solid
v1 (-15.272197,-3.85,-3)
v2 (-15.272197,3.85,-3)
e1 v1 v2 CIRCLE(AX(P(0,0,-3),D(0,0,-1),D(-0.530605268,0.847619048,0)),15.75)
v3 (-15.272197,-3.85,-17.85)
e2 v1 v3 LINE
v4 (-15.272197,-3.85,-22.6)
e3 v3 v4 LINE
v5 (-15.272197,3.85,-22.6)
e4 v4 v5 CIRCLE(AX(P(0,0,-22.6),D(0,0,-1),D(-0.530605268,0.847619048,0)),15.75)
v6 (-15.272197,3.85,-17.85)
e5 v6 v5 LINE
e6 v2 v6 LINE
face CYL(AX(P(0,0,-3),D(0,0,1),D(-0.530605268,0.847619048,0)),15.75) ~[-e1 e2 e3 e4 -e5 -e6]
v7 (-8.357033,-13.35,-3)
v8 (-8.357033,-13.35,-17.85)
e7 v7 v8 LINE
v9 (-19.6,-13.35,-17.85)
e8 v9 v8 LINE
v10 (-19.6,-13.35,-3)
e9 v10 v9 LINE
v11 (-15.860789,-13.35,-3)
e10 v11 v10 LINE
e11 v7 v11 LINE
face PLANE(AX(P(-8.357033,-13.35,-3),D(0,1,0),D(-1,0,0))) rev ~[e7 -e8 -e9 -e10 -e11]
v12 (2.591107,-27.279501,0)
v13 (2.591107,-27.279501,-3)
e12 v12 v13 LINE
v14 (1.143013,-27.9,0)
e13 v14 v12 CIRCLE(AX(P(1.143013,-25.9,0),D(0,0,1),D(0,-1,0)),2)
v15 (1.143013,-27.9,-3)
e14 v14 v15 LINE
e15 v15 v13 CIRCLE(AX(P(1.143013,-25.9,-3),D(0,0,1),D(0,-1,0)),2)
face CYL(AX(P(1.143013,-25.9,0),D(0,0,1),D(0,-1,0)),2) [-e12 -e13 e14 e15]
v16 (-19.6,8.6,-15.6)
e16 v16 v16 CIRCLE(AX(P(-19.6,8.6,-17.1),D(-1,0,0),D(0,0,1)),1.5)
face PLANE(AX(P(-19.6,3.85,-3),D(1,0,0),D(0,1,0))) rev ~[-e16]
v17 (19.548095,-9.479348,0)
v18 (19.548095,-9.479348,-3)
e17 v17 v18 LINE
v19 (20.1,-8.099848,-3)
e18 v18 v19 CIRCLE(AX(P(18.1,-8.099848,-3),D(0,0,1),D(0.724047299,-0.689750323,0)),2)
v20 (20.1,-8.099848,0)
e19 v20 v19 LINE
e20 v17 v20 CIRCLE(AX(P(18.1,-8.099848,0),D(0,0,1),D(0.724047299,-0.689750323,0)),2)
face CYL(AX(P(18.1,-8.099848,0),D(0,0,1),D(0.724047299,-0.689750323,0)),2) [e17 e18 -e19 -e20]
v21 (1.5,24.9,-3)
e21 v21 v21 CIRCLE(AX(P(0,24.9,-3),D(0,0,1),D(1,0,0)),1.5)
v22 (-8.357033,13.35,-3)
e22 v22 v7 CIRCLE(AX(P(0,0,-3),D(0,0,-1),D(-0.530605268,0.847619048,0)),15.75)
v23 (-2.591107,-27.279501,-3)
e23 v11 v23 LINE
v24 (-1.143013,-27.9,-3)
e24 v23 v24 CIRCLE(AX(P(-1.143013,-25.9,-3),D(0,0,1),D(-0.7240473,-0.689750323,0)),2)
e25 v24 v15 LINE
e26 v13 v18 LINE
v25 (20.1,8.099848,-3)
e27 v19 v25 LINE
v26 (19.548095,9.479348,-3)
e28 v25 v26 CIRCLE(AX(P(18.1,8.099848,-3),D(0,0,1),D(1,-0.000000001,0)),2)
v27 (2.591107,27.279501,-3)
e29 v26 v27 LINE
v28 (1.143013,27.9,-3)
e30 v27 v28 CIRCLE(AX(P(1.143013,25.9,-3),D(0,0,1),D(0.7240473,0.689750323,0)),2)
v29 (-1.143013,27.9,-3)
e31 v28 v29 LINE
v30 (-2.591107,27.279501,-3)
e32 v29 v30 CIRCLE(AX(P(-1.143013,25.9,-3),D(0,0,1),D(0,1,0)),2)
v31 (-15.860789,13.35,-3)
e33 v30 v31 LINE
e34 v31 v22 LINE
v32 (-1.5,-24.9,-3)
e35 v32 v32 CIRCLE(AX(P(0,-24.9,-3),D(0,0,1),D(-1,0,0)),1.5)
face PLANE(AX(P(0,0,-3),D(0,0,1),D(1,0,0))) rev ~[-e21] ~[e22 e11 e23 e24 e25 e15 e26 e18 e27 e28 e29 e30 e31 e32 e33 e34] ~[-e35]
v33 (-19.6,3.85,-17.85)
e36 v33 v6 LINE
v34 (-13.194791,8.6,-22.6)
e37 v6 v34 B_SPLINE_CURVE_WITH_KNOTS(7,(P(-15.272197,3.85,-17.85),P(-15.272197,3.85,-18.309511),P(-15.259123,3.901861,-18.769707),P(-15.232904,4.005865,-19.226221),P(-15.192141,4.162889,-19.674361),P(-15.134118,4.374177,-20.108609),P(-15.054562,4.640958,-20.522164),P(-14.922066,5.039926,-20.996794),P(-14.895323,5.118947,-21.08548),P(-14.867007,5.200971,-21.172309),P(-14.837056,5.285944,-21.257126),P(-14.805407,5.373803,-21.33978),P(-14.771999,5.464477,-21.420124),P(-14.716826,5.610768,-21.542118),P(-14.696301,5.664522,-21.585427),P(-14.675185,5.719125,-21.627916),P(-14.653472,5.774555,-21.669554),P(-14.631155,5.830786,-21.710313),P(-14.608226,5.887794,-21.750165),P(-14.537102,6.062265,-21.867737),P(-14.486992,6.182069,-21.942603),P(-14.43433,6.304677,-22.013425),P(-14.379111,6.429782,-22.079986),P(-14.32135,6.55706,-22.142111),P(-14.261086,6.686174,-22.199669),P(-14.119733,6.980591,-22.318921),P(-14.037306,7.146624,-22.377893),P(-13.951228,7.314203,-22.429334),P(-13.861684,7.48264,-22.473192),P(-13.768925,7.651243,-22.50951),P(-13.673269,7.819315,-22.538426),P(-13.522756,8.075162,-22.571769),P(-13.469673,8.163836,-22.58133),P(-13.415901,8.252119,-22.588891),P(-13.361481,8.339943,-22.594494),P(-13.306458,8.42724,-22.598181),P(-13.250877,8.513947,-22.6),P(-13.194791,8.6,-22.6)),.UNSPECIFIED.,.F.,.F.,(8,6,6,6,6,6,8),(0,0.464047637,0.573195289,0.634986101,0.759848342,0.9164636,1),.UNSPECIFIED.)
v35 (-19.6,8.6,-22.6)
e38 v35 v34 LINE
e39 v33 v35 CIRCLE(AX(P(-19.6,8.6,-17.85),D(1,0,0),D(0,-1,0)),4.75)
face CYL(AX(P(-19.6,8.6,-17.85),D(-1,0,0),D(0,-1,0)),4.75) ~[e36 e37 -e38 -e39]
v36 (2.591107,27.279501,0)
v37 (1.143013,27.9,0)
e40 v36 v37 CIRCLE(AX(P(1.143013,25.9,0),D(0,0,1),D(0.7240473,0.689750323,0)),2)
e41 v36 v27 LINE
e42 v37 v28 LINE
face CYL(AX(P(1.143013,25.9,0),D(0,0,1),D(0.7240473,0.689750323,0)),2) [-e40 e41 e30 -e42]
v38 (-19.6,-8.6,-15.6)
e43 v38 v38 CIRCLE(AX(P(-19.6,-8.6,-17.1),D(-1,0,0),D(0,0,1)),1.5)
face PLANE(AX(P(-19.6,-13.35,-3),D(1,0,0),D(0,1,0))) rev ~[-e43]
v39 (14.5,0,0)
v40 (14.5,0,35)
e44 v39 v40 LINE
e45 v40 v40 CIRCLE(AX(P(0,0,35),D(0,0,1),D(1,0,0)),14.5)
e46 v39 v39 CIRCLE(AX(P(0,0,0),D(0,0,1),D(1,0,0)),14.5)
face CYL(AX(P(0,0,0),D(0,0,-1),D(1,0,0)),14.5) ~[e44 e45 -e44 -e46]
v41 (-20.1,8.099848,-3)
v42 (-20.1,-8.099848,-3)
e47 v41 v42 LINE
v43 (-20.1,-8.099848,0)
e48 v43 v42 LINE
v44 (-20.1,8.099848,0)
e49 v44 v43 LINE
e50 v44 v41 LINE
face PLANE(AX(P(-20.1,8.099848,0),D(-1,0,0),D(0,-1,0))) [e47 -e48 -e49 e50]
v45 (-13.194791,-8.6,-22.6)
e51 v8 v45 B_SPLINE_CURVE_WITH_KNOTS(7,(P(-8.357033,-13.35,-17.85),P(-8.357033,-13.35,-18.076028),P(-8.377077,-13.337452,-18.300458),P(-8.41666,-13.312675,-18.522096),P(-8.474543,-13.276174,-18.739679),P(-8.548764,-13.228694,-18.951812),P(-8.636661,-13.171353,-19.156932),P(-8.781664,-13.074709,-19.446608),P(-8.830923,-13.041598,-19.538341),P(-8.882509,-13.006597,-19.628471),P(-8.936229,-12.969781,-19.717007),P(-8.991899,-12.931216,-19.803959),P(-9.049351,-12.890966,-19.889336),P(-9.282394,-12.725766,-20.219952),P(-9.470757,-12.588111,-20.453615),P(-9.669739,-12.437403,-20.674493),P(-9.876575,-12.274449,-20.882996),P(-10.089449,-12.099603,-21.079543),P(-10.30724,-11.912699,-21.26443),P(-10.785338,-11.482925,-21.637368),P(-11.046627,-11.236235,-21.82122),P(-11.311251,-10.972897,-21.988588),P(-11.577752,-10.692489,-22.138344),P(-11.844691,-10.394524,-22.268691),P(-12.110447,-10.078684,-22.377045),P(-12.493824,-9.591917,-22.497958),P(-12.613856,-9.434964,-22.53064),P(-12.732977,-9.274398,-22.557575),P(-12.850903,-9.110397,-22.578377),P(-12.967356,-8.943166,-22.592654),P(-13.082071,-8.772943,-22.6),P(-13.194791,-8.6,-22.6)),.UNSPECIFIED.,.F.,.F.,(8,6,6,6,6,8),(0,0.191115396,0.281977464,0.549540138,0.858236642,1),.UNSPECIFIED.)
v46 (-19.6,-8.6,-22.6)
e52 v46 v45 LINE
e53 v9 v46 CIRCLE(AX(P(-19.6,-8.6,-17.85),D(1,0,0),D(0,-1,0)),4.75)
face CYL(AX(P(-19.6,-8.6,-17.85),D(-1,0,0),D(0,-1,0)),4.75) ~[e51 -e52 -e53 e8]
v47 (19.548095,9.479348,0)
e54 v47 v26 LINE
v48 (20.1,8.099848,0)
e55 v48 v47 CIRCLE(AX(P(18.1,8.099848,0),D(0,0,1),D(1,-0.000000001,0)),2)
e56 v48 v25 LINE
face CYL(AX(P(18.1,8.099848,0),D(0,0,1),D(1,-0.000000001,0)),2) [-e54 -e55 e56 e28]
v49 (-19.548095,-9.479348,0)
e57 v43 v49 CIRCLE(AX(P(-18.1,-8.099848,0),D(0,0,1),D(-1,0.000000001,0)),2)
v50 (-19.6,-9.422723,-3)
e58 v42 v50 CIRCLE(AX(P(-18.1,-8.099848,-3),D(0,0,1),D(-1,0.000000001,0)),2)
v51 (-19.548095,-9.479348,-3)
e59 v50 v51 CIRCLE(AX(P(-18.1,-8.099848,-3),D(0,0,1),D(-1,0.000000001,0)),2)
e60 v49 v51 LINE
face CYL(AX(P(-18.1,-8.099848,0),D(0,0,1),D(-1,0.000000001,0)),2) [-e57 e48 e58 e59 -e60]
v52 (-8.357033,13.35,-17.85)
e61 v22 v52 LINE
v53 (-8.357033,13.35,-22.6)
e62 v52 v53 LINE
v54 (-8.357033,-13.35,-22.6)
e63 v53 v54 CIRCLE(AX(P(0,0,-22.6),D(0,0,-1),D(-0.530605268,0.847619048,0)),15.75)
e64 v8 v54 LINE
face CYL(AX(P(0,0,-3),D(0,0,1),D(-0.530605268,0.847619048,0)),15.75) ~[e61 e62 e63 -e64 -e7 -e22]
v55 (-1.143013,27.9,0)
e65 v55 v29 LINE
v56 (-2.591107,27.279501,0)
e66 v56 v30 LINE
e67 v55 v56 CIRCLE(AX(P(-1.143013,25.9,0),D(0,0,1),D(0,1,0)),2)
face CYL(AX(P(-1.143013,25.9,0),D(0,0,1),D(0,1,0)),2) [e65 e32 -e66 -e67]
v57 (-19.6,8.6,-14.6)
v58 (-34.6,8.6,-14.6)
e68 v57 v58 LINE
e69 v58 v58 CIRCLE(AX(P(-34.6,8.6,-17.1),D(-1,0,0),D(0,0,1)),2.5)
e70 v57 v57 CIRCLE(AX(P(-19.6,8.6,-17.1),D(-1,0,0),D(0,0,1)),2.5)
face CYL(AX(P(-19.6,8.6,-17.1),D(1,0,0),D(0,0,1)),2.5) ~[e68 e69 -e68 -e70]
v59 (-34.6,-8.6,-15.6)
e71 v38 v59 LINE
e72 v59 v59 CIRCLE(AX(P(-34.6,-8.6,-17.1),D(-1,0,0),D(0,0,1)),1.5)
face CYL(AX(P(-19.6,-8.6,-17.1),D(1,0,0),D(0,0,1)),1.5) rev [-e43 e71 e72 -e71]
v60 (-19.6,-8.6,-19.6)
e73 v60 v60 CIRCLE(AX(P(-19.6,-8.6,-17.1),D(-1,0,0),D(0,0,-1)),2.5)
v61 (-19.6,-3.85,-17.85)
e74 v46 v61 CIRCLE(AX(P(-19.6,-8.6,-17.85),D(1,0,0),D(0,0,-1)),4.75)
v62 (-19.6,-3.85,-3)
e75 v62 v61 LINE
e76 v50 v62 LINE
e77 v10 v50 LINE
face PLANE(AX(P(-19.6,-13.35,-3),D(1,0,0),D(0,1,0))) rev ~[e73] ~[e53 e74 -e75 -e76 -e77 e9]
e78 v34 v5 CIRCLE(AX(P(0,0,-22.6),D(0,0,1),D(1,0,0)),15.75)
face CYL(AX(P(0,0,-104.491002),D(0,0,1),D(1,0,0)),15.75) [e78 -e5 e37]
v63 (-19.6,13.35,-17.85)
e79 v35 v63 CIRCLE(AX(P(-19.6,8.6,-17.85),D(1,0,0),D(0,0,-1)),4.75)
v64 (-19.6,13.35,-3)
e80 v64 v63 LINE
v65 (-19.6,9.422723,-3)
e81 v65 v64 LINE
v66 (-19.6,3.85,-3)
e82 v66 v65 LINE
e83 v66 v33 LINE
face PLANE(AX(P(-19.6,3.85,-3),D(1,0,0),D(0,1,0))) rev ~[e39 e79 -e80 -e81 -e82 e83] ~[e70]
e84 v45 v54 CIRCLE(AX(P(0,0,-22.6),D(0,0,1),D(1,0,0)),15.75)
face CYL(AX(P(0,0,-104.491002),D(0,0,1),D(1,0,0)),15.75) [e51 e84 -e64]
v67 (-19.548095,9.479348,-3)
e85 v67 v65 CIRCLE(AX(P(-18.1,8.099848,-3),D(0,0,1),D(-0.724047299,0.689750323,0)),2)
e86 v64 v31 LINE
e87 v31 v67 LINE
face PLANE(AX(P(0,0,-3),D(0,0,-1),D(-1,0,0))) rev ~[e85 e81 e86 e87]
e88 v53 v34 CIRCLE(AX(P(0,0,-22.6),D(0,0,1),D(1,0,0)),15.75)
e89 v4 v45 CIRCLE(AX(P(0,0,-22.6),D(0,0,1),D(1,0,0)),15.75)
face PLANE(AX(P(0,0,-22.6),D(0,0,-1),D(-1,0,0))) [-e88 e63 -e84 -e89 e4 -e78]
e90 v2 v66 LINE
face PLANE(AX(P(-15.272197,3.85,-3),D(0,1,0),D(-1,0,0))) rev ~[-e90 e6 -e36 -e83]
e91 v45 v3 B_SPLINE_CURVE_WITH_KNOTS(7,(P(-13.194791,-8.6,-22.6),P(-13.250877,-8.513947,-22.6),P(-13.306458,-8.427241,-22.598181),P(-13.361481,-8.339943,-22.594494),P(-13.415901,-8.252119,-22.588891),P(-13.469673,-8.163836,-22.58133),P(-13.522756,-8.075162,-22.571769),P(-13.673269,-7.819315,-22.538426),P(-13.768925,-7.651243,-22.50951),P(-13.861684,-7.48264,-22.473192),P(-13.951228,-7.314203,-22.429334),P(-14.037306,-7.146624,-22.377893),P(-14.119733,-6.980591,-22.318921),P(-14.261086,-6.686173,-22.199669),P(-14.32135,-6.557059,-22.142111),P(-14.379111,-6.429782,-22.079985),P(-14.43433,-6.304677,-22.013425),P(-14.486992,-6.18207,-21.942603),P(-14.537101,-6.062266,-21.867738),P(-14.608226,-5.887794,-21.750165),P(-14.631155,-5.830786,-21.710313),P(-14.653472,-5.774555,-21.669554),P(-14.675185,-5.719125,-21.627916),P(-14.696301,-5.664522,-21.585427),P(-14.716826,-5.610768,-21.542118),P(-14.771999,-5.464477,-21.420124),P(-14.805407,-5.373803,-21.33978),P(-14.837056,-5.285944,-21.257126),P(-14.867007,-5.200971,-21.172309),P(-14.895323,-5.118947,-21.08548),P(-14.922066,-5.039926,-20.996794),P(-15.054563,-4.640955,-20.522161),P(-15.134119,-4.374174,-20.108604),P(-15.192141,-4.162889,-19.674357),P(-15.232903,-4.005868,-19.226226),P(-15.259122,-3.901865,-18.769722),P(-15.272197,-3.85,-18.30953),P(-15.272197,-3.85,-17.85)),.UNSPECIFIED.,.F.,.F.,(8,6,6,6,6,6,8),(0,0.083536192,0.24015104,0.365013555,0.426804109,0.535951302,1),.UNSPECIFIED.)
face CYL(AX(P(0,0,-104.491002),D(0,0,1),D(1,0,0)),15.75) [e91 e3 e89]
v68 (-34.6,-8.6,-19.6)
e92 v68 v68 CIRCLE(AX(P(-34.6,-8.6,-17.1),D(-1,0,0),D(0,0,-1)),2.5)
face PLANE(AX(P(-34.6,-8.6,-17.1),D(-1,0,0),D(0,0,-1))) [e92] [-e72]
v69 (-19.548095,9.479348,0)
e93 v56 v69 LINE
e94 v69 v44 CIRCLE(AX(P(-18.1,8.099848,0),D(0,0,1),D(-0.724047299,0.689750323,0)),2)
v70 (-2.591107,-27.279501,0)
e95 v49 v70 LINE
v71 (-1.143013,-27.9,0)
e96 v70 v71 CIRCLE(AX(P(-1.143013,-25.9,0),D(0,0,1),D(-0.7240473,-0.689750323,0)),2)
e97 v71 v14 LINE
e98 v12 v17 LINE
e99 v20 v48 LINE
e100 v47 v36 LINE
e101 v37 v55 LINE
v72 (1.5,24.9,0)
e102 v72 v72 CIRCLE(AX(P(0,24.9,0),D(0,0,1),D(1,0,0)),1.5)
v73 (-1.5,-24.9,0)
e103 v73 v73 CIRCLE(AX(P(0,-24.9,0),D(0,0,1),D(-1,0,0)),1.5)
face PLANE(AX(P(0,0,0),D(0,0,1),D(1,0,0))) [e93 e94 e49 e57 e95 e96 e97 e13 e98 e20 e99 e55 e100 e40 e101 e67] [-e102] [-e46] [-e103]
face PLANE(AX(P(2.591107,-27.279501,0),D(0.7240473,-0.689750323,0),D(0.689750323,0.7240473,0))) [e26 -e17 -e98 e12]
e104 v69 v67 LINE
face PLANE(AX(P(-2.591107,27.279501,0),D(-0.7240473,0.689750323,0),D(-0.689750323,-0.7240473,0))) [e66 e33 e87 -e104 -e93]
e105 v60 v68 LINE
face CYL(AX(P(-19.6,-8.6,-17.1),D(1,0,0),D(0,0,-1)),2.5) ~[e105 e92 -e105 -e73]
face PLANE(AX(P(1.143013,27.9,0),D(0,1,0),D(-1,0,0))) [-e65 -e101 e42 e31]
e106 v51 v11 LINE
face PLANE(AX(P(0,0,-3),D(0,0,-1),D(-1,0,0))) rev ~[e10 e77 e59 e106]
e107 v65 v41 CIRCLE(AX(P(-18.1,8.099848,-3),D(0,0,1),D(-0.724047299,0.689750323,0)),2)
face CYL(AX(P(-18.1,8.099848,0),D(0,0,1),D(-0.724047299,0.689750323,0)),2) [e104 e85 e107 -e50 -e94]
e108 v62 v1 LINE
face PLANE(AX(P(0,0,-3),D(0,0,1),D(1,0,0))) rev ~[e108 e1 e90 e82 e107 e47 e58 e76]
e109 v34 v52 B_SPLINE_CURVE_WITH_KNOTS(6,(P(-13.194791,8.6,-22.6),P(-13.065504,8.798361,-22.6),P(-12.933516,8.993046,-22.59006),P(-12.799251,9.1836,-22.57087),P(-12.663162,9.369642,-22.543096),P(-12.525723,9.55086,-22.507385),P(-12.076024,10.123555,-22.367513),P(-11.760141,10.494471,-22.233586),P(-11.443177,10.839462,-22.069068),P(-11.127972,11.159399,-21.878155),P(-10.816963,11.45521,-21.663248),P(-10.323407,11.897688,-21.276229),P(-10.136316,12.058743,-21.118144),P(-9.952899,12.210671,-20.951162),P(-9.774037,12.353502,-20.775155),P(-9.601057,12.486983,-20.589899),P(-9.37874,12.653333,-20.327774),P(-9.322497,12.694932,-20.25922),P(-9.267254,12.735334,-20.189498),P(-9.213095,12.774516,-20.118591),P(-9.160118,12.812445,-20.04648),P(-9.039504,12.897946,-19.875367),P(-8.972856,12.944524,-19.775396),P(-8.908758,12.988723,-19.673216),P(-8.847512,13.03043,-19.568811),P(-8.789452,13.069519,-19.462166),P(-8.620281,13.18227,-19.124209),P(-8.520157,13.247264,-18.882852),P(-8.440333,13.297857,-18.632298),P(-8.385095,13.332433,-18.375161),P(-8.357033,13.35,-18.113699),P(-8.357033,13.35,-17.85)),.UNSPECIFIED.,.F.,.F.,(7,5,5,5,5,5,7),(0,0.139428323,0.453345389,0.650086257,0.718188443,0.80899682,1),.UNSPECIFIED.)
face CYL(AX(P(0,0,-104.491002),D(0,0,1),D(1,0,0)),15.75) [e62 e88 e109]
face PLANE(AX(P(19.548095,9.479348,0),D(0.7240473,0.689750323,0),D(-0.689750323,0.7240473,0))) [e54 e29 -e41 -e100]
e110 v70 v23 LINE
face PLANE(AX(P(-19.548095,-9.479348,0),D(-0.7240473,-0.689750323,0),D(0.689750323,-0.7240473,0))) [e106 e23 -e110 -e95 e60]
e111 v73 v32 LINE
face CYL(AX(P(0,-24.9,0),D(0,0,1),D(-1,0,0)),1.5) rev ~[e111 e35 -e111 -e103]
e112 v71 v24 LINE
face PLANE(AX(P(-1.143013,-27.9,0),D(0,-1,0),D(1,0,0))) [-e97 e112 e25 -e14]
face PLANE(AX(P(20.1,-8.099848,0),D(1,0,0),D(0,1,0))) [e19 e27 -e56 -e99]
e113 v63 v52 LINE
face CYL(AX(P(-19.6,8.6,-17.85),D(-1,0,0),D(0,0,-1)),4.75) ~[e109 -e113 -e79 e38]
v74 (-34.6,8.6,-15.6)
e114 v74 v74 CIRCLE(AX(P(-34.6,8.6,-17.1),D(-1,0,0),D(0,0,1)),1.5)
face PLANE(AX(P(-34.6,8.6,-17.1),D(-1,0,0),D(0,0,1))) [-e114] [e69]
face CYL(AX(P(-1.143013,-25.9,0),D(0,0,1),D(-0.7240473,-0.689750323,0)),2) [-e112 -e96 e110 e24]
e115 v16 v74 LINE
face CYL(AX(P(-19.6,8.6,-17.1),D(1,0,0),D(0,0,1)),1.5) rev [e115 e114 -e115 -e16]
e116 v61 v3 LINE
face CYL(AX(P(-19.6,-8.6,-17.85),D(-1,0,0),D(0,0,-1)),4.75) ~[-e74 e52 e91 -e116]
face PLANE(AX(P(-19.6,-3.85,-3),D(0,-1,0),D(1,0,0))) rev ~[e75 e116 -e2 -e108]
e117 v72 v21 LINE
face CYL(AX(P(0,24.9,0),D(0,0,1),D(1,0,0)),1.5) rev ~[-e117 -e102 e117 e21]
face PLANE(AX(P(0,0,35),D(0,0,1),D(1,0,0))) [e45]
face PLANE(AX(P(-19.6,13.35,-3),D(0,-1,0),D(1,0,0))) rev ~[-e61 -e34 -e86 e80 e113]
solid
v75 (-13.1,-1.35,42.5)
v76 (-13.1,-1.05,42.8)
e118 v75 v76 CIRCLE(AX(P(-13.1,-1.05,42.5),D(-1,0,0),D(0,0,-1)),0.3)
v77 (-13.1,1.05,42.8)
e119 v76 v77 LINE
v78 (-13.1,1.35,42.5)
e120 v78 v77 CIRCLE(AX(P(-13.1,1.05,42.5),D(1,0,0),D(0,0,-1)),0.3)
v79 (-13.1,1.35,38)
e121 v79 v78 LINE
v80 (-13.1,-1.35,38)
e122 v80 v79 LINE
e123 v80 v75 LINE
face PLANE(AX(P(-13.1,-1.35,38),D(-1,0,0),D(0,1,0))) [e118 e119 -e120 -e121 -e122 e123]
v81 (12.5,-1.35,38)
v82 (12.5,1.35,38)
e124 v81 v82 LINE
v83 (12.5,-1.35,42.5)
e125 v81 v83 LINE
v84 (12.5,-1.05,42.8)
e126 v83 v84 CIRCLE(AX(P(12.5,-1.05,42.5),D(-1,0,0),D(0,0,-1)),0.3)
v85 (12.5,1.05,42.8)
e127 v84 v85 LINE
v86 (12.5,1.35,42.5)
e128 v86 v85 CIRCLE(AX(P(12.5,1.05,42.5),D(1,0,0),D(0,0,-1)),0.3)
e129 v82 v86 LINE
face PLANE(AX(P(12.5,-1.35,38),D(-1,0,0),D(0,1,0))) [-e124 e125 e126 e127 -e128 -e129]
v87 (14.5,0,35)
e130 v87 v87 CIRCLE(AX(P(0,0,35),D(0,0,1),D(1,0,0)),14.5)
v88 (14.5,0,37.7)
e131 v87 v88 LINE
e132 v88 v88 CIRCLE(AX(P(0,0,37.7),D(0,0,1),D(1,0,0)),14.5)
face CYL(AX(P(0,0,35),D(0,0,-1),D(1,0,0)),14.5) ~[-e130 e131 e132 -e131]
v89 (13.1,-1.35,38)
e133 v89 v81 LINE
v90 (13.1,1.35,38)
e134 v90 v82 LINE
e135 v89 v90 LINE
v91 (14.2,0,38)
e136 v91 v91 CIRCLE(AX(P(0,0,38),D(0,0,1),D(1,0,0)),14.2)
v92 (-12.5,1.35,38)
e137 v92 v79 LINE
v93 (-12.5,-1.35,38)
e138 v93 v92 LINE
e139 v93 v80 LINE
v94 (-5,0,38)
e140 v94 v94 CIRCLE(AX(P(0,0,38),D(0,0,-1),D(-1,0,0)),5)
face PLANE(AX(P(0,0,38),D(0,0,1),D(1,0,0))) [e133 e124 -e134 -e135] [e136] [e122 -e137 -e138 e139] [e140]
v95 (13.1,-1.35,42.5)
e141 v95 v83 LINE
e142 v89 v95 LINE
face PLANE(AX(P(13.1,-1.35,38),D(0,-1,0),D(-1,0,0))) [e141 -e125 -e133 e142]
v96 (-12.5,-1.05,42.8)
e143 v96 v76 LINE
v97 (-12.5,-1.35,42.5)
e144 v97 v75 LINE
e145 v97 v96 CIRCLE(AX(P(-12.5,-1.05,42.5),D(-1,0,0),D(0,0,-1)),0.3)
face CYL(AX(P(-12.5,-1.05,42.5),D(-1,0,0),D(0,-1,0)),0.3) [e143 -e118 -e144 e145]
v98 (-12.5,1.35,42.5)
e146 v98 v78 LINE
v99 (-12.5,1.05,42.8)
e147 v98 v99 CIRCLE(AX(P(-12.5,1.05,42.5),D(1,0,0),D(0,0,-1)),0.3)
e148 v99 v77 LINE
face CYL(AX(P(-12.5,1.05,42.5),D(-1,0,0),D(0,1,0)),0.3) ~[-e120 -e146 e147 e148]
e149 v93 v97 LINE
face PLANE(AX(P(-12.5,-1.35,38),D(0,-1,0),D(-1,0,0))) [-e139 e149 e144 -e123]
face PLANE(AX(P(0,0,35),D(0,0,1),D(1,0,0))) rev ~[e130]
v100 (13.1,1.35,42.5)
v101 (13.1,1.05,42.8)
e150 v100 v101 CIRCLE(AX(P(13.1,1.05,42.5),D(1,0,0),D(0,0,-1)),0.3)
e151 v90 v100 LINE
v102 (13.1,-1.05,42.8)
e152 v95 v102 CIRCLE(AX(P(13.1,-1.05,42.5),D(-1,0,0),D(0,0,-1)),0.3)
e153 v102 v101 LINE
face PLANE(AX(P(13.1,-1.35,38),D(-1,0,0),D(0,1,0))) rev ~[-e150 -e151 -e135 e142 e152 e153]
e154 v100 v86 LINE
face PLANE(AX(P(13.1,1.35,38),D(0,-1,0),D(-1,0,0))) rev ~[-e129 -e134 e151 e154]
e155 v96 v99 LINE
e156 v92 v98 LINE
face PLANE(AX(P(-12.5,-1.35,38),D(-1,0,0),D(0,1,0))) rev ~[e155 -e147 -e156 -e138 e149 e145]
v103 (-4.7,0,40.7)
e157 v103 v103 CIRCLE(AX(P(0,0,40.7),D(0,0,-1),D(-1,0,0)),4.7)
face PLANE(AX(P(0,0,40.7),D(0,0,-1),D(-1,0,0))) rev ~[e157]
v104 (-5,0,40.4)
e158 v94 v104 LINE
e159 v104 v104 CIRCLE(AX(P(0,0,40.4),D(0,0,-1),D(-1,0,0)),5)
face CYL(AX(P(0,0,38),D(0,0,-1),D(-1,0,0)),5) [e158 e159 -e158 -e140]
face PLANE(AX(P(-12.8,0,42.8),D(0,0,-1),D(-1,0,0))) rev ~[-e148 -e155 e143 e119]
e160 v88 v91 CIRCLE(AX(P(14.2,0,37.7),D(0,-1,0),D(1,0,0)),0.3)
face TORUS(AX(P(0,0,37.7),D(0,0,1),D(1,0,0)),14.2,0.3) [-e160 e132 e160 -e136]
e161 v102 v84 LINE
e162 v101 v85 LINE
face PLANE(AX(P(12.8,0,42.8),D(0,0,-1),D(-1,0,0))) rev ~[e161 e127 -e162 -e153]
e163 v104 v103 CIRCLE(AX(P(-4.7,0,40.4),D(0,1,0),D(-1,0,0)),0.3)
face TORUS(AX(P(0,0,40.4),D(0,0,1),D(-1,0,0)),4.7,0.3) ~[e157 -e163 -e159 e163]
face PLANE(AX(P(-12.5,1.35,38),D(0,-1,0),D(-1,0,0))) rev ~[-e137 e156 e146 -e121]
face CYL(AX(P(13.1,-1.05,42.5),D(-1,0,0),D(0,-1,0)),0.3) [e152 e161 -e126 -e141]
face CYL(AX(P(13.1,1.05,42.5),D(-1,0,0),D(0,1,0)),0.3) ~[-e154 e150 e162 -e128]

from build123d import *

# Parameters (mm, degrees)
SKETCH1_R               = 14.5
BOSS_EXTRUDE1_DEPTH     = 35
SKETCH3_R               = 14.5
BOSS_EXTRUDE2_DEPTH     = 3
SKETCH5_R               = 5
BOSS_EXTRUDE3_DEPTH     = 2.7
SKETCH6_W               = 0.6
SKETCH6_H               = 2.7
BOSS_EXTRUDE4_DEPTH     = 4.8
FILLET1_R               = 0.3
SKETCH7_R               = 1.5
BOSS_EXTRUDE5_DEPTH     = 3
SKETCH8_R               = 15.75
BOSS_EXTRUDE6_DEPTH     = 19.6
CUT_EXTRUDE1_REACH      = 66.702
CUT_EXTRUDE1_END_RADIUS = 15.75
SKETCH10_R              = 2.5
SKETCH10_R_2            = 1.5
BOSS_EXTRUDE7_DEPTH     = 15


with BuildPart() as part:
    # Sketch1 → Boss-Extrude1 (new body)
    with BuildSketch(Plane.XY):
        Circle(SKETCH1_R)
    extrude(amount=BOSS_EXTRUDE1_DEPTH)

    # Sketch7 → Boss-Extrude5 (add)
    with BuildSketch(Plane.XY):
        with BuildLine():
            Line((19.5480946, 9.47934821), (2.59110728, 27.279500645))
            ThreePointArc((2.59110728, 27.279500645), (1.930730495, 27.738341819), (1.14301268, 27.9))
            Line((1.14301268, 27.9), (-1.14301268, 27.9))
            ThreePointArc((-1.14301268, 27.9), (-1.930730495, 27.738341819), (-2.59110728, 27.279500645))
            Line((-2.59110728, 27.279500645), (-19.5480946, 9.47934821))
            ThreePointArc((-19.5480946, 9.47934821), (-19.956904575, 8.842750924), (-20.1, 8.099847565))
            Line((-20.1, 8.099847565), (-20.1, -8.099847565))
            ThreePointArc((-20.1, -8.099847565), (-19.956904575, -8.842750924), (-19.5480946, -9.47934821))
            Line((-19.5480946, -9.47934821), (-2.59110728, -27.279500645))
            ThreePointArc((-2.59110728, -27.279500645), (-1.930730495, -27.738341819), (-1.14301268, -27.9))
            Line((-1.14301268, -27.9), (1.14301268, -27.9))
            ThreePointArc((1.14301268, -27.9), (1.930730495, -27.738341819), (2.59110728, -27.279500645))
            Line((2.59110728, -27.279500645), (19.5480946, -9.47934821))
            ThreePointArc((19.5480946, -9.47934821), (19.956904575, -8.842750924), (20.1, -8.099847565))
            Line((20.1, -8.099847565), (20.1, 8.099847565))
            ThreePointArc((20.1, 8.099847565), (19.956904575, 8.842750924), (19.5480946, 9.47934821))
        make_face()
        with Locations((0, 24.9)):
            Circle(SKETCH7_R, mode=Mode.SUBTRACT)
        with Locations(Location((0, -24.9, 0), (0, 0, 180))):
            Circle(SKETCH7_R, mode=Mode.SUBTRACT)
    extrude(amount=-BOSS_EXTRUDE5_DEPTH)

    # Sketch8 → Boss-Extrude6 (add)
    with BuildSketch(Plane(origin=(0, 0, -3), x_dir=(-1, 0, 0), z_dir=(0, 0, -1))):
        Circle(SKETCH8_R)
        with BuildLine():
            Line((15.27219696, 3.85), (19.6, 3.85))
            Line((19.6, 3.85), (19.6, 13.35))
            Line((19.6, 13.35), (8.357032966, 13.35))
            ThreePointArc((8.357032966, 13.35), (12.733720067, 9.269027633), (15.27219696, 3.85))
        make_face()
        with BuildLine():
            Line((19.6, -3.85), (15.27219696, -3.85))
            ThreePointArc((15.27219696, -3.85), (12.733720067, -9.269027633), (8.357032966, -13.35))
            Line((8.357032966, -13.35), (19.6, -13.35))
            Line((19.6, -13.35), (19.6, -3.85))
        make_face()
    extrude(amount=BOSS_EXTRUDE6_DEPTH)

    # Cut-Extrude1: up to this cylinder (the profile starts outside it)
    cut_extrude1_end = Plane(origin=(0, 0, -21.539002), z_dir=(0, 0, 1)) * Cylinder(CUT_EXTRUDE1_END_RADIUS, 165.904, mode=Mode.PRIVATE)
    # Sketch9 → Cut-Extrude1 (cut, up to the surface)
    with BuildSketch(Plane.ZY.offset(19.6), mode=Mode.PRIVATE) as cut_extrude1_sk1:
        with BuildLine():
            Line((-17.85, 13.35), (-22.6, 13.35))
            Line((-22.6, 13.35), (-22.6, 8.6))
            ThreePointArc((-22.6, 8.6), (-21.208757211, 11.958757211), (-17.85, 13.35))
        make_face()
    cut_extrude1_tool1 = extrude(cut_extrude1_sk1.sketch, amount=-CUT_EXTRUDE1_REACH, mode=Mode.PRIVATE) - cut_extrude1_end
    add(cut_extrude1_tool1.solids().sort_by_distance((-19.6, 12.289002, -21.539002))[0], mode=Mode.SUBTRACT)
    # Sketch9 → Cut-Extrude1 (cut, up to the surface)
    with BuildSketch(Plane.ZY.offset(19.6), mode=Mode.PRIVATE) as cut_extrude1_sk2:
        with BuildLine():
            ThreePointArc((-17.85, 3.85), (-21.208757211, 5.241242789), (-22.6, 8.6))
            Line((-22.6, 8.6), (-22.6, 3.85))
            Line((-22.6, 3.85), (-17.85, 3.85))
        make_face()
    cut_extrude1_tool2 = extrude(cut_extrude1_sk2.sketch, amount=-CUT_EXTRUDE1_REACH, mode=Mode.PRIVATE) - cut_extrude1_end
    add(cut_extrude1_tool2.solids().sort_by_distance((-19.6, 4.910998, -21.539002))[0], mode=Mode.SUBTRACT)
    # Sketch9 → Cut-Extrude1 (cut, up to the surface)
    with BuildSketch(Plane.ZY.offset(19.6), mode=Mode.PRIVATE) as cut_extrude1_sk3:
        with BuildLine():
            ThreePointArc((-22.6, -8.6), (-21.208757211, -5.241242789), (-17.85, -3.85))
            Line((-17.85, -3.85), (-22.6, -3.85))
            Line((-22.6, -3.85), (-22.6, -8.6))
        make_face()
    cut_extrude1_tool3 = extrude(cut_extrude1_sk3.sketch, amount=-CUT_EXTRUDE1_REACH, mode=Mode.PRIVATE) - cut_extrude1_end
    add(cut_extrude1_tool3.solids().sort_by_distance((-19.6, -4.910998, -21.539002))[0], mode=Mode.SUBTRACT)
    # Sketch9 → Cut-Extrude1 (cut, up to the surface)
    with BuildSketch(Plane.ZY.offset(19.6), mode=Mode.PRIVATE) as cut_extrude1_sk4:
        with BuildLine():
            ThreePointArc((-17.85, -13.35), (-21.208757211, -11.958757211), (-22.6, -8.6))
            Line((-22.6, -8.6), (-22.6, -13.35))
            Line((-22.6, -13.35), (-17.85, -13.35))
        make_face()
    cut_extrude1_tool4 = extrude(cut_extrude1_sk4.sketch, amount=-CUT_EXTRUDE1_REACH, mode=Mode.PRIVATE) - cut_extrude1_end
    add(cut_extrude1_tool4.solids().sort_by_distance((-19.6, -12.289002, -21.539002))[0], mode=Mode.SUBTRACT)

    # Sketch10 → Boss-Extrude7 (add)
    with BuildSketch(Plane.ZY.offset(19.6)):
        with Locations((-17.1, 8.6)):
            Circle(SKETCH10_R)
        with Locations((-17.1, 8.6)):
            Circle(SKETCH10_R_2, mode=Mode.SUBTRACT)
        with Locations(Location((-17.1, -8.6, 0), (0, 0, 180))):
            Circle(SKETCH10_R)
        with Locations((-17.1, -8.6)):
            Circle(SKETCH10_R_2, mode=Mode.SUBTRACT)
    extrude(amount=BOSS_EXTRUDE7_DEPTH)


with BuildPart() as body_2:
    # Sketch3 → Boss-Extrude2 (new body)
    with BuildSketch(Plane.XY.offset(35)):
        Circle(SKETCH3_R)
    extrude(amount=BOSS_EXTRUDE2_DEPTH)

    # Sketch5 → Boss-Extrude3 (add)
    with BuildSketch(Plane(origin=(0, 0, 38), x_dir=(-1, 0, 0), z_dir=(0, 0, -1))):
        Circle(SKETCH5_R)
    extrude(amount=-BOSS_EXTRUDE3_DEPTH)

    # Sketch6 → Boss-Extrude4 (add)
    with BuildSketch(Plane(origin=(0, 0, 38), x_dir=(-1, 0, 0), z_dir=(0, 0, -1))):
        with Locations((-12.8, 0)):
            Rectangle(SKETCH6_W, SKETCH6_H)
        with Locations((12.8, 0)):
            Rectangle(SKETCH6_W, SKETCH6_H)
    extrude(amount=-BOSS_EXTRUDE4_DEPTH)

    # Fillet1
    fillet1_edges = [body_2.edges().sort_by_distance(p)[0] for p in [
        (12.8, 1.35, 42.8),
        (12.8, -1.35, 42.8),
        (-12.8, -1.35, 42.8),
        (-12.8, 1.35, 42.8),
        (-14.5, 0, 38),
        (5, 0, 40.7),
    ]]
    fillet(fillet1_edges, radius=FILLET1_R)


solid = Compound([part.part, body_2.part])
